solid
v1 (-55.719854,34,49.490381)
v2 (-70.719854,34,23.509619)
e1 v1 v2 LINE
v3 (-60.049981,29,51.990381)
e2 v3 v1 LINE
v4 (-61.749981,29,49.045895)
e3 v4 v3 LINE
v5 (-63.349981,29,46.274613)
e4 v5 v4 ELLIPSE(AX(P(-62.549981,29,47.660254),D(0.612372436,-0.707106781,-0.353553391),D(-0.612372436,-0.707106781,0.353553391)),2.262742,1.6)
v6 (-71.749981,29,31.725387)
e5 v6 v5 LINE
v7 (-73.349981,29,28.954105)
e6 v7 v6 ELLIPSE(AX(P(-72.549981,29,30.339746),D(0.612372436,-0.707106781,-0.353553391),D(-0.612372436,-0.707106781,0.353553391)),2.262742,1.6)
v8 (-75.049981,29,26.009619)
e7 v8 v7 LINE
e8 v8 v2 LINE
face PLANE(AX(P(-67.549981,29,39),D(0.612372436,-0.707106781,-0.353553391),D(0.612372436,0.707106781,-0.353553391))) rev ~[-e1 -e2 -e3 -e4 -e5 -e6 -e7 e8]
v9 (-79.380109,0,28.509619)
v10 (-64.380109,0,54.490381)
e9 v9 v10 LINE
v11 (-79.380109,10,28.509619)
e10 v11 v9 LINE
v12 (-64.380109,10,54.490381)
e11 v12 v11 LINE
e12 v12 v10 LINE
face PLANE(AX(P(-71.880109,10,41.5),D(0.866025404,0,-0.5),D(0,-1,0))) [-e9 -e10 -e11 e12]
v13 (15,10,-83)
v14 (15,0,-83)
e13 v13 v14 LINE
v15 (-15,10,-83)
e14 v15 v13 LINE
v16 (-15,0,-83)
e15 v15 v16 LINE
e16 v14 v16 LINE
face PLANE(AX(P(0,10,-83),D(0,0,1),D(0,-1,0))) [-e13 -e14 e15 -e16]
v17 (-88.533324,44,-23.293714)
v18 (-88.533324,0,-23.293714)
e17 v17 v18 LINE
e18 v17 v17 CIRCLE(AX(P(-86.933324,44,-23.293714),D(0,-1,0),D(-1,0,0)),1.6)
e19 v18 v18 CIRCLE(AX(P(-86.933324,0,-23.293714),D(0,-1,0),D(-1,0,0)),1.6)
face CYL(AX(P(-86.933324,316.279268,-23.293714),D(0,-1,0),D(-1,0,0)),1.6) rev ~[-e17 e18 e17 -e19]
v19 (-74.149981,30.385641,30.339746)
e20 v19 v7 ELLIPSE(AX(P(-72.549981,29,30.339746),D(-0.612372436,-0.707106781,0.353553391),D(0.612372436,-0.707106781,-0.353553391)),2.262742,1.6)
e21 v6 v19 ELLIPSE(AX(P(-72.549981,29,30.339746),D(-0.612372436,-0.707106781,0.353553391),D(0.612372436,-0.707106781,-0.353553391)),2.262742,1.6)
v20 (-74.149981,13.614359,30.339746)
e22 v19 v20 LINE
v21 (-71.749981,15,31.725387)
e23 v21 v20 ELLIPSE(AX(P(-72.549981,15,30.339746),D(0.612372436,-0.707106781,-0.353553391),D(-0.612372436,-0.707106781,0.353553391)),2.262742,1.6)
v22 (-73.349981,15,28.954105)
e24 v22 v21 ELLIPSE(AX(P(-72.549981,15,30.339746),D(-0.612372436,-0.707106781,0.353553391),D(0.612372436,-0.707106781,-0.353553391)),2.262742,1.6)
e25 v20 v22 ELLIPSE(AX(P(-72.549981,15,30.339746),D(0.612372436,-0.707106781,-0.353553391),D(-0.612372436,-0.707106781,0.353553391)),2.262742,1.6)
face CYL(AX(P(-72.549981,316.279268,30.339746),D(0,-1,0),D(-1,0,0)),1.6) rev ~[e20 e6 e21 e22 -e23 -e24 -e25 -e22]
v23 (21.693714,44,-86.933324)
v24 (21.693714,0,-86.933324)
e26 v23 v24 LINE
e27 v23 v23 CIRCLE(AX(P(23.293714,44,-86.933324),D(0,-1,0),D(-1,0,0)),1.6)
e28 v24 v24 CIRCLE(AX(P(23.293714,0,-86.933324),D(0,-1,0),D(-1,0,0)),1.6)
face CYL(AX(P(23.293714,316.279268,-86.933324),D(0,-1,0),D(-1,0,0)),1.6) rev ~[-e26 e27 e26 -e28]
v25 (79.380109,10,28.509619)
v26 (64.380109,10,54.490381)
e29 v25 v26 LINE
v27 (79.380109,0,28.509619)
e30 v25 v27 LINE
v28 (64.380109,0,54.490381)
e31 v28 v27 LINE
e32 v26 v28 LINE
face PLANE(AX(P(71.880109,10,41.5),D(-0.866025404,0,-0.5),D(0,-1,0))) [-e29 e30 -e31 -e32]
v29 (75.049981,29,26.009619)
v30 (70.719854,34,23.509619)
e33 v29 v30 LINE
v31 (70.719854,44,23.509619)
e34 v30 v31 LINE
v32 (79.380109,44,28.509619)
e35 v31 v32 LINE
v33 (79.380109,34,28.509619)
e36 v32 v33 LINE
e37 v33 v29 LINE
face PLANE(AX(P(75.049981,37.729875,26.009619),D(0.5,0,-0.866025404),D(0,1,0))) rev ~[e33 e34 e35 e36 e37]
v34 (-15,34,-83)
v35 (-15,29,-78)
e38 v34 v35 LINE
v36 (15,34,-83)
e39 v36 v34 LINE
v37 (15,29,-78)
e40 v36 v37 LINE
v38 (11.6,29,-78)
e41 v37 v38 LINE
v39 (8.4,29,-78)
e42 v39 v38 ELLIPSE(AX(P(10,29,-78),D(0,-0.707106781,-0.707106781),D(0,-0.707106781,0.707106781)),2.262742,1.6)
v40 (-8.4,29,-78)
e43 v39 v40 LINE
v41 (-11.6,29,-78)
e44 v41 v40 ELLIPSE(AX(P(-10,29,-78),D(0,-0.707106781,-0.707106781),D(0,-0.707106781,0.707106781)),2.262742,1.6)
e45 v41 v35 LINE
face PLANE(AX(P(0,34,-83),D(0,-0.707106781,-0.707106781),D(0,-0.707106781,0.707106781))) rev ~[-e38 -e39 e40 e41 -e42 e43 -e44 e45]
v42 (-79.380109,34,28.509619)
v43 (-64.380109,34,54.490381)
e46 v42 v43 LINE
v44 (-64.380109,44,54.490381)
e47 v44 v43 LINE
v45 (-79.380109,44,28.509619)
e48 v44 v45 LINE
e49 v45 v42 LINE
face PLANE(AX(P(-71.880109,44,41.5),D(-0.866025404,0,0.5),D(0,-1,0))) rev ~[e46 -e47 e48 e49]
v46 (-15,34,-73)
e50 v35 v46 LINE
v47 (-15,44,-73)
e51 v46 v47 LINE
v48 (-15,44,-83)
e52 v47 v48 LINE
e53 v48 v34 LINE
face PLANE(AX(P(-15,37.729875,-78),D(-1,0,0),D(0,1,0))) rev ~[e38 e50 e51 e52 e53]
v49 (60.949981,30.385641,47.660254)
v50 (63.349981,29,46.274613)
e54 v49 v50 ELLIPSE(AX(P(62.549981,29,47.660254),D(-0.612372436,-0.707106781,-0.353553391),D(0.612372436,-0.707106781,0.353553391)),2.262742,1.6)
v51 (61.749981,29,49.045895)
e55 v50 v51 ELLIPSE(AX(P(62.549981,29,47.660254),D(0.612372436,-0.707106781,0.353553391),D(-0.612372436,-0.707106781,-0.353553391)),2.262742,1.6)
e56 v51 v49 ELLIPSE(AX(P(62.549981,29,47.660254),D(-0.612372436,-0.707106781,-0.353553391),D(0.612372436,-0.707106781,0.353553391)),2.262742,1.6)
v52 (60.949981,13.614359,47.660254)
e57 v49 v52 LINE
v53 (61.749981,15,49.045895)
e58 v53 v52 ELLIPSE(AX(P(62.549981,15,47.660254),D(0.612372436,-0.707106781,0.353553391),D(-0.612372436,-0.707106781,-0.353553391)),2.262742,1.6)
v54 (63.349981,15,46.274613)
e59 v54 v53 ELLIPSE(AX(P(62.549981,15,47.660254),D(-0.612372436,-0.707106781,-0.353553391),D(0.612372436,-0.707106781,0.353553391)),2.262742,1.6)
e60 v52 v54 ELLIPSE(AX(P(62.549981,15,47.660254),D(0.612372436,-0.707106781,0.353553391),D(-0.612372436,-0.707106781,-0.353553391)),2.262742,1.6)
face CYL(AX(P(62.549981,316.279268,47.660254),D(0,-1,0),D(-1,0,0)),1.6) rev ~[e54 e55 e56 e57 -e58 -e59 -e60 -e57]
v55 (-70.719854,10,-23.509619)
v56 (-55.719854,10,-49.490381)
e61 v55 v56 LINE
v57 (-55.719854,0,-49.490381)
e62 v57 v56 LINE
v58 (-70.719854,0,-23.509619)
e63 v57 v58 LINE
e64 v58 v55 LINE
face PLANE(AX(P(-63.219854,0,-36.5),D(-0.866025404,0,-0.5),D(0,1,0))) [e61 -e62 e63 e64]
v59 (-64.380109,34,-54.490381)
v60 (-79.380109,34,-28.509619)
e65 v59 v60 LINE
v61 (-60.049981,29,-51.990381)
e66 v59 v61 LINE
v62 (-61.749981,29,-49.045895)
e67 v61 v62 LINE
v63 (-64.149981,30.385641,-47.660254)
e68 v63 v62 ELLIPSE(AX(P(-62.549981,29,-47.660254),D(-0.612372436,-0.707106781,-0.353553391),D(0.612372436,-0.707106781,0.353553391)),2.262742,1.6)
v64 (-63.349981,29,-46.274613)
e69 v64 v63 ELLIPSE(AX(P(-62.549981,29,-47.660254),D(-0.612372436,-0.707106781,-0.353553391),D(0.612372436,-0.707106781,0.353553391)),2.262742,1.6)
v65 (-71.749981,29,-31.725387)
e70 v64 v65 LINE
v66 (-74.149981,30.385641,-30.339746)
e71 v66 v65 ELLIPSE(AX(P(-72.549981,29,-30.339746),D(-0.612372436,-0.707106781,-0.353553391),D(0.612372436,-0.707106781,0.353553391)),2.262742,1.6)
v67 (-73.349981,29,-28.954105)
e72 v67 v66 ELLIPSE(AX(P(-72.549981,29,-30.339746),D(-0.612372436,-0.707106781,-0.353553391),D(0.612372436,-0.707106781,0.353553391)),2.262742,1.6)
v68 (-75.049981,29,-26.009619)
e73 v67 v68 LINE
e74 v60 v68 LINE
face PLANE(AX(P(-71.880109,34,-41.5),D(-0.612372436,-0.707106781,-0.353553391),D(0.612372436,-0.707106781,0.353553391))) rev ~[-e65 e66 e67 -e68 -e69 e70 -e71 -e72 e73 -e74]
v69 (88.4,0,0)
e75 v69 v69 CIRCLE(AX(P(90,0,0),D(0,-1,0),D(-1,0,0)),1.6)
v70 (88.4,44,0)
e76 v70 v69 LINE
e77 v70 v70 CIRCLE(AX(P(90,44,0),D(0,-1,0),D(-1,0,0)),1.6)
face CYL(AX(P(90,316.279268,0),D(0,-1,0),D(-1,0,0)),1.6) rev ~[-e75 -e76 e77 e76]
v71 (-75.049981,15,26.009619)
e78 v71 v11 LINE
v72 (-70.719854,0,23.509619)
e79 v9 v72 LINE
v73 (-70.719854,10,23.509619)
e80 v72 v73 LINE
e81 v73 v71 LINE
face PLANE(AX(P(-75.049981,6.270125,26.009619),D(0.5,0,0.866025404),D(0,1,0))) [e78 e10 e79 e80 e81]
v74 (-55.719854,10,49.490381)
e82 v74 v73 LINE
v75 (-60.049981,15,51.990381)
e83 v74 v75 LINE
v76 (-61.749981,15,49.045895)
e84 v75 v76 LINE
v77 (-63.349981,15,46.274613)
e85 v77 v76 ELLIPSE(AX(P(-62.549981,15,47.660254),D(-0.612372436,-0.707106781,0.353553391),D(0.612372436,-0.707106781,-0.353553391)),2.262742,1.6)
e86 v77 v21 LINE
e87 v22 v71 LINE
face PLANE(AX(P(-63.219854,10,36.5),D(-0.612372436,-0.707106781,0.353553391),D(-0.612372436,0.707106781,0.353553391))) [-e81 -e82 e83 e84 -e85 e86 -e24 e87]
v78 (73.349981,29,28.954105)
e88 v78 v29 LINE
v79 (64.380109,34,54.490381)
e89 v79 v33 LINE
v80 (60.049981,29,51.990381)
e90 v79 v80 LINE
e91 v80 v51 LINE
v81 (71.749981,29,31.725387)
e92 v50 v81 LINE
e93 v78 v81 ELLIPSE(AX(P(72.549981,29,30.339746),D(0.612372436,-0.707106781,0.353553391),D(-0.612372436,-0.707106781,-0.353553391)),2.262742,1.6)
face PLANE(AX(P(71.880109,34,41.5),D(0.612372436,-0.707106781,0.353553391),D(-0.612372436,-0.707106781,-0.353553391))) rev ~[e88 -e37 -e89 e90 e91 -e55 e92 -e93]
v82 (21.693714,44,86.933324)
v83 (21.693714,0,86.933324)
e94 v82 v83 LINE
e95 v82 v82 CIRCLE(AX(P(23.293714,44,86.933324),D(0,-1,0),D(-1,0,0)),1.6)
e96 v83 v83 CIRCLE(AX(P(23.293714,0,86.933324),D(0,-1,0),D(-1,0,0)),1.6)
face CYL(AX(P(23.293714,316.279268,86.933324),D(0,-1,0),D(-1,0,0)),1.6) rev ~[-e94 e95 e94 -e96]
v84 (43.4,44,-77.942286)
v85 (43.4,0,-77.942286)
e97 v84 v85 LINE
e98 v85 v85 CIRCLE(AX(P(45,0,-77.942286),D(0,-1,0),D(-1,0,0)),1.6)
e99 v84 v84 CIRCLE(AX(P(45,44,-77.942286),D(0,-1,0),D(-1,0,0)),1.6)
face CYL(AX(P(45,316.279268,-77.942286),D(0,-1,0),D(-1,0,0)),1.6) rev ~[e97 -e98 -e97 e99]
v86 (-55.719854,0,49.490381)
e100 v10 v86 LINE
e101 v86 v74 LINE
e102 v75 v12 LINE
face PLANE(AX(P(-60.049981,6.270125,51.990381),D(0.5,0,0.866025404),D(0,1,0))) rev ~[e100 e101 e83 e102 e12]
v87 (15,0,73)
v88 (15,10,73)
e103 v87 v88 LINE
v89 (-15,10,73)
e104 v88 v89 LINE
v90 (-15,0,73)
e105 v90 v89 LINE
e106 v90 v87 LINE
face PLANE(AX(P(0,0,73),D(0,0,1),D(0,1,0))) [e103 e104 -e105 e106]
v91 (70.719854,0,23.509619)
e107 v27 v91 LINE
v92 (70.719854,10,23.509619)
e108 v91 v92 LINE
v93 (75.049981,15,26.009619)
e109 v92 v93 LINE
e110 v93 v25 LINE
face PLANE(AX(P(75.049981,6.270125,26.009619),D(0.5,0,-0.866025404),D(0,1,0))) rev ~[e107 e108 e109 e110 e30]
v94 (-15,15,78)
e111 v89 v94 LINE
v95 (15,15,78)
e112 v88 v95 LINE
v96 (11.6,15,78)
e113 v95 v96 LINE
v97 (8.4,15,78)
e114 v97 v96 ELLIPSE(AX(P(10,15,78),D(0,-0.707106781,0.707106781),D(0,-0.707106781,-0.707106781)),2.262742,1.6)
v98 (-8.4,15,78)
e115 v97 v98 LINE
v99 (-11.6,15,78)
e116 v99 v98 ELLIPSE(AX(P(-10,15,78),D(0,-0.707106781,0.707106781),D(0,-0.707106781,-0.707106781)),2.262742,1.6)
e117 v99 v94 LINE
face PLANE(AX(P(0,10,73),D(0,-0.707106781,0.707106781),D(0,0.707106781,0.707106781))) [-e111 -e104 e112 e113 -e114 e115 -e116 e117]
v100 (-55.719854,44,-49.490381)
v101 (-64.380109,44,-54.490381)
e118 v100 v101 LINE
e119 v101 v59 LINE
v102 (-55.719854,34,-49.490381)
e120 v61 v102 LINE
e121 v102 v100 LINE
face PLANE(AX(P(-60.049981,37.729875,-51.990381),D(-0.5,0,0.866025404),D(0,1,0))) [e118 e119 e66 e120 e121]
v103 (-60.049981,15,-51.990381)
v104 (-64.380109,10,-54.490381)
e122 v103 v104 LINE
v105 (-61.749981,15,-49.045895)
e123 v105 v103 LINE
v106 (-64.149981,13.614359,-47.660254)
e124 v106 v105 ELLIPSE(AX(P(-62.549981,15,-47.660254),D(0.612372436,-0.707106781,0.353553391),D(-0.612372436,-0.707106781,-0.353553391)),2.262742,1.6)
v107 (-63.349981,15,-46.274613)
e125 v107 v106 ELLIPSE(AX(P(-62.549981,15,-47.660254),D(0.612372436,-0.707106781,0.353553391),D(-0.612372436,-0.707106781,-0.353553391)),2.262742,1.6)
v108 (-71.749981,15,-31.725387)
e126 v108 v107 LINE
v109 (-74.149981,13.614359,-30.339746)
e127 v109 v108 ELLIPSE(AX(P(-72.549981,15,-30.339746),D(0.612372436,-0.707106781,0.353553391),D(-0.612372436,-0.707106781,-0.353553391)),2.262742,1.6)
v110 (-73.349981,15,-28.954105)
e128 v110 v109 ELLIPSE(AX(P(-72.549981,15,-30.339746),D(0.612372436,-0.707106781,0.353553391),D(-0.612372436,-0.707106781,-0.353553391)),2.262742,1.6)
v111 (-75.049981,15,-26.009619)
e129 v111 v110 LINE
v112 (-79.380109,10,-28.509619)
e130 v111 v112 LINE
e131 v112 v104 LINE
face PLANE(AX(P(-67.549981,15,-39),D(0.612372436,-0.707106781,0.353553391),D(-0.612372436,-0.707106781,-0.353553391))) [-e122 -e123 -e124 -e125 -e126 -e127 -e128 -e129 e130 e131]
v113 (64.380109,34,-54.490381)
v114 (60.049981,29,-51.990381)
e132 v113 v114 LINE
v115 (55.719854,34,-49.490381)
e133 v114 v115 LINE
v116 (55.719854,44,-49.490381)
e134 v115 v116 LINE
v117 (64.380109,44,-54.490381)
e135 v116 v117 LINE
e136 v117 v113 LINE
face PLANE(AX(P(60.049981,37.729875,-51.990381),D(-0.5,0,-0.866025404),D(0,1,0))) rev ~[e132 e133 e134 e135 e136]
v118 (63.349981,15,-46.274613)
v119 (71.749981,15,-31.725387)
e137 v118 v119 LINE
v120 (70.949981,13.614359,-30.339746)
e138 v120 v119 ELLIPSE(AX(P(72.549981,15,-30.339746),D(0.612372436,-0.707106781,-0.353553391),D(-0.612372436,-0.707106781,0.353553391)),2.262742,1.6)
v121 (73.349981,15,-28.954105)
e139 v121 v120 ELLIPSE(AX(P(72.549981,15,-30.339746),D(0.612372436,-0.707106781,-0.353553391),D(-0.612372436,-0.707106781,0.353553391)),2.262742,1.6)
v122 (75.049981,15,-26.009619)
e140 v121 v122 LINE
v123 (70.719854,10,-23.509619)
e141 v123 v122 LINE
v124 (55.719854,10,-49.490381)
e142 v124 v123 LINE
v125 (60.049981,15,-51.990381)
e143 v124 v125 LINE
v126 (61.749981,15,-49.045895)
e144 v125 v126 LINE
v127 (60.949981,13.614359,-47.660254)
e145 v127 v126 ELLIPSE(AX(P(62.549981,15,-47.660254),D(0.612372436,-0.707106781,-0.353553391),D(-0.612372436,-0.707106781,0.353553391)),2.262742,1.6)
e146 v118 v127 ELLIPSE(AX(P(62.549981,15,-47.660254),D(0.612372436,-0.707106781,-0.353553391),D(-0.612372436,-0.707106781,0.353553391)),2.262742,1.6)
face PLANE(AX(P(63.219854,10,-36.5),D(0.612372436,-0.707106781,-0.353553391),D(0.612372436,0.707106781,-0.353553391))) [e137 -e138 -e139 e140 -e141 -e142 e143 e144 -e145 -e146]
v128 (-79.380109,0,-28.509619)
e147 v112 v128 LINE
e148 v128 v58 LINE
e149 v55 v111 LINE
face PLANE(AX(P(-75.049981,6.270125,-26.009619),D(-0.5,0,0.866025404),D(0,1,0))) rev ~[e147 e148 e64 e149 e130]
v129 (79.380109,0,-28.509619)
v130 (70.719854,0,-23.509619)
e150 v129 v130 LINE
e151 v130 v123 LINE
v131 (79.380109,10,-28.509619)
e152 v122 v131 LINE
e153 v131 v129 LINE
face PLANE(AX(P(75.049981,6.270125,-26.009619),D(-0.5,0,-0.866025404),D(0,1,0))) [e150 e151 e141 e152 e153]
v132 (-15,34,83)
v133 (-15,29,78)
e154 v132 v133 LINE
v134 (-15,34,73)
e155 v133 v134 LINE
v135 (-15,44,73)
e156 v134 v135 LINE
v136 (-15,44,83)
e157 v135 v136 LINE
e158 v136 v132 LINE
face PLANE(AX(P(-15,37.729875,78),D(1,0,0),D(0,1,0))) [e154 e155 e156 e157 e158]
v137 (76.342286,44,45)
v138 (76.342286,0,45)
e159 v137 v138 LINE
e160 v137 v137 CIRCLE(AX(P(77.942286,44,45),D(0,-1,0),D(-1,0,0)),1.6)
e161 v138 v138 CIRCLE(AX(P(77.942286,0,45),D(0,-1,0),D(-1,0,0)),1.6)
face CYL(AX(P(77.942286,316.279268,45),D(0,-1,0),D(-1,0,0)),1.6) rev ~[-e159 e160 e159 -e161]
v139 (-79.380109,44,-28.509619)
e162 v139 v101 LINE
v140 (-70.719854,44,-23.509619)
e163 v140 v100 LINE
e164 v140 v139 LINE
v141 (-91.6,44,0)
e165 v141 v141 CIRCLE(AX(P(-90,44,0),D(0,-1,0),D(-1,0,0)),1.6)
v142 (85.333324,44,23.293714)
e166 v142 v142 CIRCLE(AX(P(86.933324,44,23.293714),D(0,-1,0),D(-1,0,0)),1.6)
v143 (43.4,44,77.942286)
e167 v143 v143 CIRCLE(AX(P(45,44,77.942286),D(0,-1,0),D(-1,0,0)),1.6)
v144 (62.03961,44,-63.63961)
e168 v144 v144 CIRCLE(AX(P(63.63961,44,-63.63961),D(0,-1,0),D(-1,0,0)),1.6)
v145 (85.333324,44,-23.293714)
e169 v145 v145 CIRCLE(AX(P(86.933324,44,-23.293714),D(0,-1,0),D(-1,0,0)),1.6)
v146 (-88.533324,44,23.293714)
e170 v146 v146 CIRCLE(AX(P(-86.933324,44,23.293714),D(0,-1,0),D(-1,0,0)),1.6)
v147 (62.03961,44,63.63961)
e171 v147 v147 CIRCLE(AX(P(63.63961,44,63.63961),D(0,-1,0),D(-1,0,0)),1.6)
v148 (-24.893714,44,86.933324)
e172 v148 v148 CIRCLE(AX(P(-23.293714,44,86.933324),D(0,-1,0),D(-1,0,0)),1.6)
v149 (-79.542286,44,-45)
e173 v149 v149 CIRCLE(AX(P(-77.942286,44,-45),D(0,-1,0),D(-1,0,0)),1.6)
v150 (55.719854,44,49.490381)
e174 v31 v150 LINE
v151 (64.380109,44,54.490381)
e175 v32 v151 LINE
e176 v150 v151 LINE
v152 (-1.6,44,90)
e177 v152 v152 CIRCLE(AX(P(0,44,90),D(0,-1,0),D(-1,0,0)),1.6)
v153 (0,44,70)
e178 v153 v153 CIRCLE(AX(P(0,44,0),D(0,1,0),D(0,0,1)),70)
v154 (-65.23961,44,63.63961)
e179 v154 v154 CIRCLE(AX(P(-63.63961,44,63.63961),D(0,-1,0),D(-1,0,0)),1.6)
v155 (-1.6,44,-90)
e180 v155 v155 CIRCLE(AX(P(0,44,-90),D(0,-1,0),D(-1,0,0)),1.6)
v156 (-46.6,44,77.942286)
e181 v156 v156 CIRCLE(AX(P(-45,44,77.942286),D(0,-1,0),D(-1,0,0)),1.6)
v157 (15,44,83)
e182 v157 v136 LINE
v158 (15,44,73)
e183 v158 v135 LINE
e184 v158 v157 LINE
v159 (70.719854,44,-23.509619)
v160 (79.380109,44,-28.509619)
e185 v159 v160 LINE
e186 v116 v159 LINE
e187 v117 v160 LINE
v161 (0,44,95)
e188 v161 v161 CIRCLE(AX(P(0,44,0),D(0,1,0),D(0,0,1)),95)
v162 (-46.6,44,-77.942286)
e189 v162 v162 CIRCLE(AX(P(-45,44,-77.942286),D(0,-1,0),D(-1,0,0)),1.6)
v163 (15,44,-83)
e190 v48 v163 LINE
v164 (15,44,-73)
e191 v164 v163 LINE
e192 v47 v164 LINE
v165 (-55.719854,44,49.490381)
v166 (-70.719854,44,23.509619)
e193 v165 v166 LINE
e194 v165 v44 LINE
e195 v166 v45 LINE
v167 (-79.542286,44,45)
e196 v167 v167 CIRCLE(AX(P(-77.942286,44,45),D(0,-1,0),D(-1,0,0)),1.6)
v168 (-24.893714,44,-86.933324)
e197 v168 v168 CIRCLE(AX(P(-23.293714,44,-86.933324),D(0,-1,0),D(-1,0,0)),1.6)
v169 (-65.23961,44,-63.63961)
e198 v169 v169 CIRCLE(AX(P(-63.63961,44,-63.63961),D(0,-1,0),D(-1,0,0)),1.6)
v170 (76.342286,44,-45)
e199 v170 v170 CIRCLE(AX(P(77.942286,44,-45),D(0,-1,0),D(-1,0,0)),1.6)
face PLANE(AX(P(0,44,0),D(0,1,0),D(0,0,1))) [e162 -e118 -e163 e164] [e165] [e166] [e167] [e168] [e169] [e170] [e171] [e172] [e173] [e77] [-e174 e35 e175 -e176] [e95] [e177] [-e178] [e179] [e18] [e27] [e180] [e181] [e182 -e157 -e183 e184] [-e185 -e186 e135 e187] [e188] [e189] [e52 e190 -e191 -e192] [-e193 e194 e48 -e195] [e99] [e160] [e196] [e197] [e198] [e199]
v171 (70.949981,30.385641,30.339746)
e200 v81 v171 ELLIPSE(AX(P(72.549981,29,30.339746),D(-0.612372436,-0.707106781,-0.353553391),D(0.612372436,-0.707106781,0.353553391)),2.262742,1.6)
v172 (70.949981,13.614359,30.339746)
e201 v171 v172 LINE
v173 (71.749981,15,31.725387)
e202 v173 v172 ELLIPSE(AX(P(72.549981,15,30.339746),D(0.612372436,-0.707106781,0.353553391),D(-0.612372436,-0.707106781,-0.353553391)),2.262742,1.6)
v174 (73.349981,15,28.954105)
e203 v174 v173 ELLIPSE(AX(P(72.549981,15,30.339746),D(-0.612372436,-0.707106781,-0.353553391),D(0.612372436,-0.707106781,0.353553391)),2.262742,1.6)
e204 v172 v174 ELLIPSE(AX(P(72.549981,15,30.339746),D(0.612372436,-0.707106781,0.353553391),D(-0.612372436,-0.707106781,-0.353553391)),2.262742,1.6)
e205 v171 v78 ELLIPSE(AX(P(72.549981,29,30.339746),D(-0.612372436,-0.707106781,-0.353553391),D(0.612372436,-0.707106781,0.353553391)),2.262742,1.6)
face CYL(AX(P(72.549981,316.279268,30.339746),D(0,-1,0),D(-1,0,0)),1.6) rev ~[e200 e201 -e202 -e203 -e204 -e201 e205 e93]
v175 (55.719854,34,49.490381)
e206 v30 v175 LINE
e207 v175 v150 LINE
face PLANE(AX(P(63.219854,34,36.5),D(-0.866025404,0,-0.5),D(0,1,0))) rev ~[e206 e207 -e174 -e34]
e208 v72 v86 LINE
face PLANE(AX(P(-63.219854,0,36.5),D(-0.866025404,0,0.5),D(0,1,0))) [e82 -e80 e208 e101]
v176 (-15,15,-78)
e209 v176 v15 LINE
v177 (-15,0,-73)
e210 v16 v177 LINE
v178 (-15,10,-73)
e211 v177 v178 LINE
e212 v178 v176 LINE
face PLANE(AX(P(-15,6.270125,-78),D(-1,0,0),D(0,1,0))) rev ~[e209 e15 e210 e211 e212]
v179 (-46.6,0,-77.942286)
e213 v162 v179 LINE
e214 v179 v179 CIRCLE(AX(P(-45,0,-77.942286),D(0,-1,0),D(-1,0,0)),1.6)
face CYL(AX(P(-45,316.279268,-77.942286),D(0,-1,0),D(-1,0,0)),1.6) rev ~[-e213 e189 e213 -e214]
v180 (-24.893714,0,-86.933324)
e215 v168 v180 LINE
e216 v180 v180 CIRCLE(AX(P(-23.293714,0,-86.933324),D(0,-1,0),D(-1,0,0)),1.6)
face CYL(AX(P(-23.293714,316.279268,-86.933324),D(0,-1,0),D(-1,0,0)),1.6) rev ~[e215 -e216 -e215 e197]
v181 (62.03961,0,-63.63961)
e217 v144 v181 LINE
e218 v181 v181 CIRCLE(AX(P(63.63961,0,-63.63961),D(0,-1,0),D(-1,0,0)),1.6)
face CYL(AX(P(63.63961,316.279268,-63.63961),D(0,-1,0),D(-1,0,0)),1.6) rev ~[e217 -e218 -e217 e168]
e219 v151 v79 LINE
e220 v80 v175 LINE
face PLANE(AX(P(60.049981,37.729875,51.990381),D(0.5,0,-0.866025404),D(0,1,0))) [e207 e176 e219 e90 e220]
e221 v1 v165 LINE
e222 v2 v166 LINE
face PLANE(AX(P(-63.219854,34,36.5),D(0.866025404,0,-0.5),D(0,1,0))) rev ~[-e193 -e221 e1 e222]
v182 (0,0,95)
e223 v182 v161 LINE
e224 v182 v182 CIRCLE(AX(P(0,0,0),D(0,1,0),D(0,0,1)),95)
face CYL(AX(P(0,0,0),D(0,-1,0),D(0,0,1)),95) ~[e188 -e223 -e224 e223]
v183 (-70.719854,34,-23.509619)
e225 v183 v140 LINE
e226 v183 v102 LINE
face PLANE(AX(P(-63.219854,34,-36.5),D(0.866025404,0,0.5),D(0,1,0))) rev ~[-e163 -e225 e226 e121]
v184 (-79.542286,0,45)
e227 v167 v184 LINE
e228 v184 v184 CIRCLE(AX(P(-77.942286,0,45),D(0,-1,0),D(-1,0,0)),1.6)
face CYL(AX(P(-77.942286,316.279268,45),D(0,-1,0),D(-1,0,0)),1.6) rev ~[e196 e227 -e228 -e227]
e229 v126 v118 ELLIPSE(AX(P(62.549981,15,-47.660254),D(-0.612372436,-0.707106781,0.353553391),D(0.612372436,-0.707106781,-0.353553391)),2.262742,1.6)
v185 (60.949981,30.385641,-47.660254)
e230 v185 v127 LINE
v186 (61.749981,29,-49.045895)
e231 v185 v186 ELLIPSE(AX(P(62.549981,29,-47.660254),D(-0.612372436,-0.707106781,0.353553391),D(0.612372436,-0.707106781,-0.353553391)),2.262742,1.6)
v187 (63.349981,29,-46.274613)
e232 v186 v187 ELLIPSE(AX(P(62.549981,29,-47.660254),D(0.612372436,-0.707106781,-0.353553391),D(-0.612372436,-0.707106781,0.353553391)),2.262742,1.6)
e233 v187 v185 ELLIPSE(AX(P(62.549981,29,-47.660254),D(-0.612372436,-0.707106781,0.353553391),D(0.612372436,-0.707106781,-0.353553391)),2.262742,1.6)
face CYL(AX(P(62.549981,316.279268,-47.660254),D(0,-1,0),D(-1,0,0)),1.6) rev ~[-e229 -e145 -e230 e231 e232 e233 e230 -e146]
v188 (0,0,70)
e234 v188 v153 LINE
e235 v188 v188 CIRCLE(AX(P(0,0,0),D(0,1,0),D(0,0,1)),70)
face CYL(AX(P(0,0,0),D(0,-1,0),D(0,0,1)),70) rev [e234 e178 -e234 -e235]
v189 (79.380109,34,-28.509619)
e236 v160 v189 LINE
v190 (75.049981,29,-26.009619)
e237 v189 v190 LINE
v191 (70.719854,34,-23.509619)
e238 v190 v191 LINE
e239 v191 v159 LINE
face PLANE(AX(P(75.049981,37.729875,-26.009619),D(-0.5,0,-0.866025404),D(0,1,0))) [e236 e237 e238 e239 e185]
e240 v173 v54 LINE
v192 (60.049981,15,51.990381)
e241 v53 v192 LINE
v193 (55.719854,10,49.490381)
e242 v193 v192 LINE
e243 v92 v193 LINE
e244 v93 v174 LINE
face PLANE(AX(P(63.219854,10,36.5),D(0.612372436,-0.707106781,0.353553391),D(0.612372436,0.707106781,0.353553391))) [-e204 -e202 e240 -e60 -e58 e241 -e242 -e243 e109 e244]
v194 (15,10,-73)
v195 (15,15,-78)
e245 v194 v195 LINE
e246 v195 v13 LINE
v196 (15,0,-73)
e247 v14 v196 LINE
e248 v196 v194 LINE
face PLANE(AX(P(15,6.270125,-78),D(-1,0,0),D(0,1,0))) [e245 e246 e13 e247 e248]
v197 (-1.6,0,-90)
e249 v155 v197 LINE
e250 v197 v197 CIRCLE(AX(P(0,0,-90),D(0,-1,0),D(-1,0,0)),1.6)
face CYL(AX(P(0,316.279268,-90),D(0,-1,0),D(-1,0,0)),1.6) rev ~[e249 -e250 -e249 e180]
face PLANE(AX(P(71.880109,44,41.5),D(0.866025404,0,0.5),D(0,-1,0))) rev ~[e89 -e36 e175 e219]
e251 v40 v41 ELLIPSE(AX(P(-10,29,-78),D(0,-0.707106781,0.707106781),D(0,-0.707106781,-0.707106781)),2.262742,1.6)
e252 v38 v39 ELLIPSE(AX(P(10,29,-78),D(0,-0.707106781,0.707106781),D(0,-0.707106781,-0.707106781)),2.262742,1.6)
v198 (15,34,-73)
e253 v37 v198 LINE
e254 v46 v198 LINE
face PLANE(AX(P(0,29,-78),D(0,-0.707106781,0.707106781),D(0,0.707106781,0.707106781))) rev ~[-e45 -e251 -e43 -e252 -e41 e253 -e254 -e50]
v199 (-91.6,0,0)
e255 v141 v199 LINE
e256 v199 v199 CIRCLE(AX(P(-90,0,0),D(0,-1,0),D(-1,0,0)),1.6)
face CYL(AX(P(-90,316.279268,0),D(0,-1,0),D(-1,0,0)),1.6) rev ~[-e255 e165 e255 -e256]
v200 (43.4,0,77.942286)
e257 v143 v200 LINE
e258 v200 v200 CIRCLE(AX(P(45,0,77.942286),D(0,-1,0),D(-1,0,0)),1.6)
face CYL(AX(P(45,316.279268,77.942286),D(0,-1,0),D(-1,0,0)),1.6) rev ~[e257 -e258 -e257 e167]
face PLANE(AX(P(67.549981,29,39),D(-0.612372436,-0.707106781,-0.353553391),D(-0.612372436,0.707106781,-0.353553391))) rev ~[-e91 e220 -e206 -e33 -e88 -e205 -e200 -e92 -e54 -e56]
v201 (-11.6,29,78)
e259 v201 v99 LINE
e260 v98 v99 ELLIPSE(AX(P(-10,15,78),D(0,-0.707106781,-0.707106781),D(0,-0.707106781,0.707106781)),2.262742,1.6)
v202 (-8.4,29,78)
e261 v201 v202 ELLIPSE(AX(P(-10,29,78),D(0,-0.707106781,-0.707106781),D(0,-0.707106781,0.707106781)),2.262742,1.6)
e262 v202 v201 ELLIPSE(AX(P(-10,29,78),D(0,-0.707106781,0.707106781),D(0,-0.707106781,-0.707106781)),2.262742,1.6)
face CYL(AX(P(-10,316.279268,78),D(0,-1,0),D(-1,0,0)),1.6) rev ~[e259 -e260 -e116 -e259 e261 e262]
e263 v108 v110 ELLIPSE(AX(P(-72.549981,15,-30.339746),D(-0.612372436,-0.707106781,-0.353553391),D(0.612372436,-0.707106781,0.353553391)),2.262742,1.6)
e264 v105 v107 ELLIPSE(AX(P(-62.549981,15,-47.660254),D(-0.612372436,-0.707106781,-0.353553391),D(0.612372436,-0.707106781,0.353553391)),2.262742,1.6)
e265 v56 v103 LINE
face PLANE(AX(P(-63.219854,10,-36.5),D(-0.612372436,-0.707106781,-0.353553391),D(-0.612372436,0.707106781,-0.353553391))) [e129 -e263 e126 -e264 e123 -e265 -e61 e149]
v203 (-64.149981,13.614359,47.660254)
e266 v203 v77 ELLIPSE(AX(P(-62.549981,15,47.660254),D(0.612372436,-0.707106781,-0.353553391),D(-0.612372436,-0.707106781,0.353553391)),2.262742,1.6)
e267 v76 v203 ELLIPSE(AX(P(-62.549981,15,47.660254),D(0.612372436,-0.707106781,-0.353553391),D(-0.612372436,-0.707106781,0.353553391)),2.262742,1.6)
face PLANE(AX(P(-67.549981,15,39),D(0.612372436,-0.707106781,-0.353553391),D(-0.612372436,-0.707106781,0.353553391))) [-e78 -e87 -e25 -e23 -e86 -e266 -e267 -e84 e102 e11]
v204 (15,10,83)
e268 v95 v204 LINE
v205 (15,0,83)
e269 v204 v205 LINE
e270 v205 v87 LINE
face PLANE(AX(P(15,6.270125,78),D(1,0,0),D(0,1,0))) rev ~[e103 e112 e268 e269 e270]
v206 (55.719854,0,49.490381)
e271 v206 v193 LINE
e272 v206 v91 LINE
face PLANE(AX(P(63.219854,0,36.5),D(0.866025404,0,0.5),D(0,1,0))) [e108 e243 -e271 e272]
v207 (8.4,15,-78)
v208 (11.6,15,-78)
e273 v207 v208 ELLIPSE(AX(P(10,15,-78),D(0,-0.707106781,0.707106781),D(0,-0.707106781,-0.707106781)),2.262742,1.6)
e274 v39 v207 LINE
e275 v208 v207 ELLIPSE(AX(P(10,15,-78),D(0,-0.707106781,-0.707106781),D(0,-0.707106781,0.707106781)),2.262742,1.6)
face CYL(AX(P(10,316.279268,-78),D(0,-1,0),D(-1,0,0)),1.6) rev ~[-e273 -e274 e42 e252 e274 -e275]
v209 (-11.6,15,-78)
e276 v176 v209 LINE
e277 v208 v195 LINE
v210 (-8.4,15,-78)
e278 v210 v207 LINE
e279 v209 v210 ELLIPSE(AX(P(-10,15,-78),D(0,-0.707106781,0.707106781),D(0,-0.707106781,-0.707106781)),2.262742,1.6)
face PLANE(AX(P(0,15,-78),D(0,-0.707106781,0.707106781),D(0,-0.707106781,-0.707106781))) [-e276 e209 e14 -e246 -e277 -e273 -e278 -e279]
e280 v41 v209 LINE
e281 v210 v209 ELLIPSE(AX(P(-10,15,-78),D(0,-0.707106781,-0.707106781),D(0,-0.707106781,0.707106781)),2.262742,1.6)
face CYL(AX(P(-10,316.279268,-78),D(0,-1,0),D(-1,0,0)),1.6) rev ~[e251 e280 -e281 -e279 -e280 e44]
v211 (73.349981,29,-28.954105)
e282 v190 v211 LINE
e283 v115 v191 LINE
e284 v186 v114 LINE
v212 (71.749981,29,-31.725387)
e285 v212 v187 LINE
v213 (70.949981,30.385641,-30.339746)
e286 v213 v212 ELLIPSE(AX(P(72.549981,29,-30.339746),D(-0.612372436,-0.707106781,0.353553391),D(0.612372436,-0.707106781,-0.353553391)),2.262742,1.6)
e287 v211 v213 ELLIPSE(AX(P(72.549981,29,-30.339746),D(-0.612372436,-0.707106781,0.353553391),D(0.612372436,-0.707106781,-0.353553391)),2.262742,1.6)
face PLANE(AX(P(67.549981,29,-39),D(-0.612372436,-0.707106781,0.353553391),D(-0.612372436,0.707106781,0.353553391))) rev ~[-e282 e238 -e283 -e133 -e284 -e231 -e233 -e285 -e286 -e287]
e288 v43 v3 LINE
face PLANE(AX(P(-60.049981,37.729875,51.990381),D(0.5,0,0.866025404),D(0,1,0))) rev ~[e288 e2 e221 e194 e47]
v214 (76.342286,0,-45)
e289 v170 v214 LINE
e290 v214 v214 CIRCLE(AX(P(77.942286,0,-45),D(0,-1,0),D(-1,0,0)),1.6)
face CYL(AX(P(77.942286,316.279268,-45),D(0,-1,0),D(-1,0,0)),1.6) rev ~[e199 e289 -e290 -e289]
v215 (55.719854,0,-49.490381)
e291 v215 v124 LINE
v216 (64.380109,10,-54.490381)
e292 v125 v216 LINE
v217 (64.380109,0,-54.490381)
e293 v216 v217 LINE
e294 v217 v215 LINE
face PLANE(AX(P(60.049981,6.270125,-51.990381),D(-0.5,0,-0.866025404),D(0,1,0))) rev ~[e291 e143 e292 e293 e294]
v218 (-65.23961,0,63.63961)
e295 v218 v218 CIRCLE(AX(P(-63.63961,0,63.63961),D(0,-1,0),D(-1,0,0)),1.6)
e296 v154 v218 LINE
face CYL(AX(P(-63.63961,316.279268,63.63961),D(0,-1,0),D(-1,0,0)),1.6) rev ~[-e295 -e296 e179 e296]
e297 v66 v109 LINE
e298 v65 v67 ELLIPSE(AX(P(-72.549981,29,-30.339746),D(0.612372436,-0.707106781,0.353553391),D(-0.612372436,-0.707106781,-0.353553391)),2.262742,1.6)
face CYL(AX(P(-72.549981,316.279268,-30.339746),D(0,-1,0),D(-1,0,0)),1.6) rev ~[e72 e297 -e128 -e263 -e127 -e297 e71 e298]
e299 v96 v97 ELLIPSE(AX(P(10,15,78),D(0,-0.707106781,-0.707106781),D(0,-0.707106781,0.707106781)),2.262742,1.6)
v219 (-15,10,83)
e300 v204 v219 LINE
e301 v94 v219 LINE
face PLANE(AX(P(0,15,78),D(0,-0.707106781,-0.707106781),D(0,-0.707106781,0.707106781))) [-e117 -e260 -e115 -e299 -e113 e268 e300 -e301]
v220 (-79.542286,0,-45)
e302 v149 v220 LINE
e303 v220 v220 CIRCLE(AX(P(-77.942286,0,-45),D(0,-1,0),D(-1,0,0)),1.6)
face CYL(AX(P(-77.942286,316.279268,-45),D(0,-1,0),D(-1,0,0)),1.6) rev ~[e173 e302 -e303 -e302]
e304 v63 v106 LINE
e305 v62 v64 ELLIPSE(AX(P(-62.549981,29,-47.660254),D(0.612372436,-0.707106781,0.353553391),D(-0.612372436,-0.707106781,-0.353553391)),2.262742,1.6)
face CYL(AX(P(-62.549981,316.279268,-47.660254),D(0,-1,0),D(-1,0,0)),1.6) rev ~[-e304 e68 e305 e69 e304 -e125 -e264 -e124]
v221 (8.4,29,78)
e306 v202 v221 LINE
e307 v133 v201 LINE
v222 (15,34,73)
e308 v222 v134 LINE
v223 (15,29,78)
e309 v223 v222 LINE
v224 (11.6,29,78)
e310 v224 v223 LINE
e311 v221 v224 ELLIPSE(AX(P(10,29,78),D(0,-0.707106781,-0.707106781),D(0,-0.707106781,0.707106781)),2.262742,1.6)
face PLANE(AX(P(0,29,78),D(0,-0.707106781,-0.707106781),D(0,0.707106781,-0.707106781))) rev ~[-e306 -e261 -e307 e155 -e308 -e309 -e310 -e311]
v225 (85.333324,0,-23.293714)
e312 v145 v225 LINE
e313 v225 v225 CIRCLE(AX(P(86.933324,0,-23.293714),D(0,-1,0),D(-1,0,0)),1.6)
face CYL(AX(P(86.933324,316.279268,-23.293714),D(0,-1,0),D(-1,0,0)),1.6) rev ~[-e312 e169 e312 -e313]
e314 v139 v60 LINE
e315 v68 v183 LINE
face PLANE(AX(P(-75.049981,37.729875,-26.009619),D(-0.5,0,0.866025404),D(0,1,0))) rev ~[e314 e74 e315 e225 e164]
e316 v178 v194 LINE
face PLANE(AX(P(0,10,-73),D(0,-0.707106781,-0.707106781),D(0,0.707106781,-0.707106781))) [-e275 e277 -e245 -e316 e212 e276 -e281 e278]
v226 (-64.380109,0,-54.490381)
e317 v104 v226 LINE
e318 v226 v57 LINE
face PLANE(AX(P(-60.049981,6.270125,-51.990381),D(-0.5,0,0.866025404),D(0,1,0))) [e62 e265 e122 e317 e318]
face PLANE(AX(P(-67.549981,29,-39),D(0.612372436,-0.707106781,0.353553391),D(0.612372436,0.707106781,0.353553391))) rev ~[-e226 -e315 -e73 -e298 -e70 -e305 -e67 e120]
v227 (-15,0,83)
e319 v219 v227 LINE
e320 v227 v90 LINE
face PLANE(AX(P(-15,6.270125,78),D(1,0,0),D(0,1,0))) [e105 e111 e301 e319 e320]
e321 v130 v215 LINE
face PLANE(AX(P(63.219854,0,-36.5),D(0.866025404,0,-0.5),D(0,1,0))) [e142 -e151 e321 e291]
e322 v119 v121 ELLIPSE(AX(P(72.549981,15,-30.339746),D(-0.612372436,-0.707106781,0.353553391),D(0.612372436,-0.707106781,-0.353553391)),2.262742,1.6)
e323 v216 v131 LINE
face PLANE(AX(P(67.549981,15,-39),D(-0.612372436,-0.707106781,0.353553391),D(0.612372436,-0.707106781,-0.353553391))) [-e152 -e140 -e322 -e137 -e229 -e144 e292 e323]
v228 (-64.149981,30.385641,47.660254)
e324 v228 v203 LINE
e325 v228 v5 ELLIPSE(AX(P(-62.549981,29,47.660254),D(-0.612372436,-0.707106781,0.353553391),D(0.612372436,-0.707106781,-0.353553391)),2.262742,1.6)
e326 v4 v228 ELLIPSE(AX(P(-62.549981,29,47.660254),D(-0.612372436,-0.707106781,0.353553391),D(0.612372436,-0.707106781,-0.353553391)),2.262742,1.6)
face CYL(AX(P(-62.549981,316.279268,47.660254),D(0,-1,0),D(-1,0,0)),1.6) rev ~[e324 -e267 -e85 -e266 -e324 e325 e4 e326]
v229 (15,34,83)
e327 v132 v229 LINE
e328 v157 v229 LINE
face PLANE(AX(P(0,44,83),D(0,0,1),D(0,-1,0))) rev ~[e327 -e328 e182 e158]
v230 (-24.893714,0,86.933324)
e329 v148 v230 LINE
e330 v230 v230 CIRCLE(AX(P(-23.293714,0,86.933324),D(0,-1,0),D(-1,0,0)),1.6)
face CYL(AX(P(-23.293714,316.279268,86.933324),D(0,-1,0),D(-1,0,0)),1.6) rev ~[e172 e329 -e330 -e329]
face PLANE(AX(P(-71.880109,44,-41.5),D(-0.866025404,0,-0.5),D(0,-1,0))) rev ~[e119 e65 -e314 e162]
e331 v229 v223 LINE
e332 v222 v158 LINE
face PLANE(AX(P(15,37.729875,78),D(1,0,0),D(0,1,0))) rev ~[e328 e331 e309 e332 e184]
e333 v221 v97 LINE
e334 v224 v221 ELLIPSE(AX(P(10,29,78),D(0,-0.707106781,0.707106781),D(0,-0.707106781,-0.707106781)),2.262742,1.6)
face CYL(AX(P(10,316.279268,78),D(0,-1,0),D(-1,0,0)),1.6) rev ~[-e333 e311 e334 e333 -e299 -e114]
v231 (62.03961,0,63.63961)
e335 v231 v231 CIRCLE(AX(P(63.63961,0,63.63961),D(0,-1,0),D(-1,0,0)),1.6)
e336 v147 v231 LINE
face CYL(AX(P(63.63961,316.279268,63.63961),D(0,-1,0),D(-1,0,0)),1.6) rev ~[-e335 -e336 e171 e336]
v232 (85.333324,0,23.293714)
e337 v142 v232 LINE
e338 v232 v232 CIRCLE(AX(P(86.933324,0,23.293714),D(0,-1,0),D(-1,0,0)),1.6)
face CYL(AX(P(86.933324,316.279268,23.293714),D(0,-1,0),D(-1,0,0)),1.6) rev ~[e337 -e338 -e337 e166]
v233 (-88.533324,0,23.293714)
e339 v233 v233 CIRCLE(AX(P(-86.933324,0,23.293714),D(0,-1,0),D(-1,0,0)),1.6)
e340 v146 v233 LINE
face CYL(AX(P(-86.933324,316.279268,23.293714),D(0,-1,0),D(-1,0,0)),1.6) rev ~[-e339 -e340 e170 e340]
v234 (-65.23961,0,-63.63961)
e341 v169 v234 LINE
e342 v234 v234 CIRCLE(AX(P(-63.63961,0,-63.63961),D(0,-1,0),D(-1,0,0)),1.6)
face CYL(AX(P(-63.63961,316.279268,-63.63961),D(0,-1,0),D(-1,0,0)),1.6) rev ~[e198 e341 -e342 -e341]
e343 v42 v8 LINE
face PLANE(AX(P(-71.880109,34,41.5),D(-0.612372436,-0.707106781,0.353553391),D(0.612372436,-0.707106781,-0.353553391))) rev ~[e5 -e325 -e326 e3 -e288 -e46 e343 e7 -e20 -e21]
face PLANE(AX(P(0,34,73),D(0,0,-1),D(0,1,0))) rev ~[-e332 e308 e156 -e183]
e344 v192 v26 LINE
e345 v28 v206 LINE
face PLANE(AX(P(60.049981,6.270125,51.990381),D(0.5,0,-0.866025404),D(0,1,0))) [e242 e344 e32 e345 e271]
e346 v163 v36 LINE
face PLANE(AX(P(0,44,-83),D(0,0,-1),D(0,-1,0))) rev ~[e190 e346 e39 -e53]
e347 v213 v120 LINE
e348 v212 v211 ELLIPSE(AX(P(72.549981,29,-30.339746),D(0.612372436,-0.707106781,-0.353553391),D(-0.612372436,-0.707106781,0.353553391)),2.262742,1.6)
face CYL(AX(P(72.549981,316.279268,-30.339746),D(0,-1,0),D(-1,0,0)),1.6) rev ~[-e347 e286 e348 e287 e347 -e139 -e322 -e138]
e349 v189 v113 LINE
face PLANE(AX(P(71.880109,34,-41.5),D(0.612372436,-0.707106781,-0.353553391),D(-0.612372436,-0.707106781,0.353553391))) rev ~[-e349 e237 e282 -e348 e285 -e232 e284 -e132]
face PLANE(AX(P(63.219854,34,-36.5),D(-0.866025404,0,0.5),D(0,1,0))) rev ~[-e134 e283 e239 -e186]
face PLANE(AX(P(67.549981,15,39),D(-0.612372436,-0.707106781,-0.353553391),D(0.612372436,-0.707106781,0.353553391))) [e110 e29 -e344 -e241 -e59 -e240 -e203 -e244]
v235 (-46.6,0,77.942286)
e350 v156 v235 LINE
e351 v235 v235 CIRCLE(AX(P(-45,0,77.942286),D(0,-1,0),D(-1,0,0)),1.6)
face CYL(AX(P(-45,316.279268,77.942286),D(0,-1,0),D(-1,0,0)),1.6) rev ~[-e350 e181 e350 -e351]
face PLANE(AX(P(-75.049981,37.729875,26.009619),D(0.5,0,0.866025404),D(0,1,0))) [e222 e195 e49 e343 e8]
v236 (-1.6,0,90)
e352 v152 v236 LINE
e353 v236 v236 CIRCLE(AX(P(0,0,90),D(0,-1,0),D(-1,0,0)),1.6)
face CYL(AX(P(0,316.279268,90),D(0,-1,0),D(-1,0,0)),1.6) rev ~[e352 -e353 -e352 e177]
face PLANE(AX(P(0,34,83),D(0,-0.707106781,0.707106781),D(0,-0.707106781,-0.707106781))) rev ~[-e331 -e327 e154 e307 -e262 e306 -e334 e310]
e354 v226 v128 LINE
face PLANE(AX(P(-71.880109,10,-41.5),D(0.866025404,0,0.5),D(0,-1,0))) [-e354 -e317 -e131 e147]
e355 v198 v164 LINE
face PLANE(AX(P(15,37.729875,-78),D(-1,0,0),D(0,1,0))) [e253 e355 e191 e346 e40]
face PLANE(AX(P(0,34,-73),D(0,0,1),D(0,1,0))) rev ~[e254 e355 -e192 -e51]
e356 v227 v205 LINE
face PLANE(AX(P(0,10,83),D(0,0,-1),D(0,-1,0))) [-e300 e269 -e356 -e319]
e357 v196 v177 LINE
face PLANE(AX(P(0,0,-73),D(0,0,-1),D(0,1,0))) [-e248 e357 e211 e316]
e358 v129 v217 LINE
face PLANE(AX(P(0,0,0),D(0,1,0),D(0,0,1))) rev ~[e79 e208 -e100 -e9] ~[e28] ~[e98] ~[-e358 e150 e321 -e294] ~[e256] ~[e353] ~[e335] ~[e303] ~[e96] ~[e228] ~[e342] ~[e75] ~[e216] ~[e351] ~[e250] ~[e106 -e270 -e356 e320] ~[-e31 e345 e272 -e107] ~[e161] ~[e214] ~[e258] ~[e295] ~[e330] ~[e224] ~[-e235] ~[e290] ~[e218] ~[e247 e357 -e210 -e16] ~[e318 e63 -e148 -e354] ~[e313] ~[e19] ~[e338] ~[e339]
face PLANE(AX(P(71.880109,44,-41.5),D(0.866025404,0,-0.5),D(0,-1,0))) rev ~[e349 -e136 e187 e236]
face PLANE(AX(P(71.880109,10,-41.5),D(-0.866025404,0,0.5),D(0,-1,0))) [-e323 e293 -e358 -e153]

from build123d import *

# Parameters (mm, degrees)
SKETCH1_R            = 95
SKETCH1_R_2          = 70
BOSS_EXTRUDE1_DEPTH  = 44
CUT_EXTRUDE3_DEPTH   = 15
CIRPATTERN2_COUNT    = 6
M3_CLEARANCE_HOLE1_D = 3.2
M3_CLEARANCE_HOLE2_D = 3.2


with BuildPart() as part:
    # Sketch1 → Boss-Extrude1 (new body)
    with BuildSketch(Plane(origin=(0, 0, 0), x_dir=(1, 0, 0), z_dir=(0, 1, 0))):
        Circle(SKETCH1_R)
        Circle(SKETCH1_R_2, mode=Mode.SUBTRACT)
    extrude(amount=BOSS_EXTRUDE1_DEPTH)

    # Sketch7 → Cut-Extrude3 (cut, symmetric)
    with BuildSketch(Plane(origin=(0, 0, 0), x_dir=(0, -1, 0), z_dir=(-0.500000000000001, 0, 0.866025403784438))):
        Polygon((-44, 83), (-34, 83), (-29, 78), (-34, 73), (-44, 73), align=None)
        Polygon((-10, 83), (0, 83), (0, 73), (-10, 73), (-15, 78), align=None)
    cut_extrude3 = extrude(amount=CUT_EXTRUDE3_DEPTH, both=True, mode=Mode.SUBTRACT)

    # CirPattern2: Cut-Extrude3 ×6 about axis
    cirpattern2_axis = Axis((0, 44, 0), (0, -1, 0))
    for i in range(1, CIRPATTERN2_COUNT):
        add(cut_extrude3.rotate(cirpattern2_axis, i * 360 / CIRPATTERN2_COUNT), mode=Mode.SUBTRACT)

    # M3 Clearance Hole1 (through all)
    with Locations(Plane(origin=(0, 44, 0), x_dir=(1, 0, 0), z_dir=(0, 1, 0))):
        with Locations((62.549981495, -47.660254038), (72.549981495, -30.339745962), (-10, -78), (10, -78), (-72.549981495, -30.339745962), (-62.549981495, -47.660254038), (-62.549981495, 47.660254038), (-72.549981495, 30.339745962), (10, 78), (-10, 78), (72.549981495, 30.339745962), (62.549981495, 47.660254038), (0, 0)):
            Hole(M3_CLEARANCE_HOLE1_D / 2)

    # M3 Clearance Hole2 (through all)
    with Locations(Plane(origin=(0, 44, 0), x_dir=(1, 0, 0), z_dir=(0, 1, 0))):
        with Locations((0, 90), (23.293714059, 86.933324366), (45, 77.942286341), (63.639610307, 63.639610307), (77.942286341, 45), (86.933324366, 23.293714059), (90, 0), (86.933324366, -23.293714059), (77.942286341, -45), (63.639610307, -63.639610307), (45, -77.942286341), (23.293714059, -86.933324366), (0, -90), (-23.293714059, -86.933324366), (-45, -77.942286341), (-63.639610307, -63.639610307), (-77.942286341, -45), (-86.933324366, -23.293714059), (-90, 0), (-86.933324366, 23.293714059), (-77.942286341, 45), (-63.639610307, 63.639610307), (-45, 77.942286341), (-23.293714059, 86.933324366), (0, 0)):
            Hole(M3_CLEARANCE_HOLE2_D / 2)


solid = part.part
